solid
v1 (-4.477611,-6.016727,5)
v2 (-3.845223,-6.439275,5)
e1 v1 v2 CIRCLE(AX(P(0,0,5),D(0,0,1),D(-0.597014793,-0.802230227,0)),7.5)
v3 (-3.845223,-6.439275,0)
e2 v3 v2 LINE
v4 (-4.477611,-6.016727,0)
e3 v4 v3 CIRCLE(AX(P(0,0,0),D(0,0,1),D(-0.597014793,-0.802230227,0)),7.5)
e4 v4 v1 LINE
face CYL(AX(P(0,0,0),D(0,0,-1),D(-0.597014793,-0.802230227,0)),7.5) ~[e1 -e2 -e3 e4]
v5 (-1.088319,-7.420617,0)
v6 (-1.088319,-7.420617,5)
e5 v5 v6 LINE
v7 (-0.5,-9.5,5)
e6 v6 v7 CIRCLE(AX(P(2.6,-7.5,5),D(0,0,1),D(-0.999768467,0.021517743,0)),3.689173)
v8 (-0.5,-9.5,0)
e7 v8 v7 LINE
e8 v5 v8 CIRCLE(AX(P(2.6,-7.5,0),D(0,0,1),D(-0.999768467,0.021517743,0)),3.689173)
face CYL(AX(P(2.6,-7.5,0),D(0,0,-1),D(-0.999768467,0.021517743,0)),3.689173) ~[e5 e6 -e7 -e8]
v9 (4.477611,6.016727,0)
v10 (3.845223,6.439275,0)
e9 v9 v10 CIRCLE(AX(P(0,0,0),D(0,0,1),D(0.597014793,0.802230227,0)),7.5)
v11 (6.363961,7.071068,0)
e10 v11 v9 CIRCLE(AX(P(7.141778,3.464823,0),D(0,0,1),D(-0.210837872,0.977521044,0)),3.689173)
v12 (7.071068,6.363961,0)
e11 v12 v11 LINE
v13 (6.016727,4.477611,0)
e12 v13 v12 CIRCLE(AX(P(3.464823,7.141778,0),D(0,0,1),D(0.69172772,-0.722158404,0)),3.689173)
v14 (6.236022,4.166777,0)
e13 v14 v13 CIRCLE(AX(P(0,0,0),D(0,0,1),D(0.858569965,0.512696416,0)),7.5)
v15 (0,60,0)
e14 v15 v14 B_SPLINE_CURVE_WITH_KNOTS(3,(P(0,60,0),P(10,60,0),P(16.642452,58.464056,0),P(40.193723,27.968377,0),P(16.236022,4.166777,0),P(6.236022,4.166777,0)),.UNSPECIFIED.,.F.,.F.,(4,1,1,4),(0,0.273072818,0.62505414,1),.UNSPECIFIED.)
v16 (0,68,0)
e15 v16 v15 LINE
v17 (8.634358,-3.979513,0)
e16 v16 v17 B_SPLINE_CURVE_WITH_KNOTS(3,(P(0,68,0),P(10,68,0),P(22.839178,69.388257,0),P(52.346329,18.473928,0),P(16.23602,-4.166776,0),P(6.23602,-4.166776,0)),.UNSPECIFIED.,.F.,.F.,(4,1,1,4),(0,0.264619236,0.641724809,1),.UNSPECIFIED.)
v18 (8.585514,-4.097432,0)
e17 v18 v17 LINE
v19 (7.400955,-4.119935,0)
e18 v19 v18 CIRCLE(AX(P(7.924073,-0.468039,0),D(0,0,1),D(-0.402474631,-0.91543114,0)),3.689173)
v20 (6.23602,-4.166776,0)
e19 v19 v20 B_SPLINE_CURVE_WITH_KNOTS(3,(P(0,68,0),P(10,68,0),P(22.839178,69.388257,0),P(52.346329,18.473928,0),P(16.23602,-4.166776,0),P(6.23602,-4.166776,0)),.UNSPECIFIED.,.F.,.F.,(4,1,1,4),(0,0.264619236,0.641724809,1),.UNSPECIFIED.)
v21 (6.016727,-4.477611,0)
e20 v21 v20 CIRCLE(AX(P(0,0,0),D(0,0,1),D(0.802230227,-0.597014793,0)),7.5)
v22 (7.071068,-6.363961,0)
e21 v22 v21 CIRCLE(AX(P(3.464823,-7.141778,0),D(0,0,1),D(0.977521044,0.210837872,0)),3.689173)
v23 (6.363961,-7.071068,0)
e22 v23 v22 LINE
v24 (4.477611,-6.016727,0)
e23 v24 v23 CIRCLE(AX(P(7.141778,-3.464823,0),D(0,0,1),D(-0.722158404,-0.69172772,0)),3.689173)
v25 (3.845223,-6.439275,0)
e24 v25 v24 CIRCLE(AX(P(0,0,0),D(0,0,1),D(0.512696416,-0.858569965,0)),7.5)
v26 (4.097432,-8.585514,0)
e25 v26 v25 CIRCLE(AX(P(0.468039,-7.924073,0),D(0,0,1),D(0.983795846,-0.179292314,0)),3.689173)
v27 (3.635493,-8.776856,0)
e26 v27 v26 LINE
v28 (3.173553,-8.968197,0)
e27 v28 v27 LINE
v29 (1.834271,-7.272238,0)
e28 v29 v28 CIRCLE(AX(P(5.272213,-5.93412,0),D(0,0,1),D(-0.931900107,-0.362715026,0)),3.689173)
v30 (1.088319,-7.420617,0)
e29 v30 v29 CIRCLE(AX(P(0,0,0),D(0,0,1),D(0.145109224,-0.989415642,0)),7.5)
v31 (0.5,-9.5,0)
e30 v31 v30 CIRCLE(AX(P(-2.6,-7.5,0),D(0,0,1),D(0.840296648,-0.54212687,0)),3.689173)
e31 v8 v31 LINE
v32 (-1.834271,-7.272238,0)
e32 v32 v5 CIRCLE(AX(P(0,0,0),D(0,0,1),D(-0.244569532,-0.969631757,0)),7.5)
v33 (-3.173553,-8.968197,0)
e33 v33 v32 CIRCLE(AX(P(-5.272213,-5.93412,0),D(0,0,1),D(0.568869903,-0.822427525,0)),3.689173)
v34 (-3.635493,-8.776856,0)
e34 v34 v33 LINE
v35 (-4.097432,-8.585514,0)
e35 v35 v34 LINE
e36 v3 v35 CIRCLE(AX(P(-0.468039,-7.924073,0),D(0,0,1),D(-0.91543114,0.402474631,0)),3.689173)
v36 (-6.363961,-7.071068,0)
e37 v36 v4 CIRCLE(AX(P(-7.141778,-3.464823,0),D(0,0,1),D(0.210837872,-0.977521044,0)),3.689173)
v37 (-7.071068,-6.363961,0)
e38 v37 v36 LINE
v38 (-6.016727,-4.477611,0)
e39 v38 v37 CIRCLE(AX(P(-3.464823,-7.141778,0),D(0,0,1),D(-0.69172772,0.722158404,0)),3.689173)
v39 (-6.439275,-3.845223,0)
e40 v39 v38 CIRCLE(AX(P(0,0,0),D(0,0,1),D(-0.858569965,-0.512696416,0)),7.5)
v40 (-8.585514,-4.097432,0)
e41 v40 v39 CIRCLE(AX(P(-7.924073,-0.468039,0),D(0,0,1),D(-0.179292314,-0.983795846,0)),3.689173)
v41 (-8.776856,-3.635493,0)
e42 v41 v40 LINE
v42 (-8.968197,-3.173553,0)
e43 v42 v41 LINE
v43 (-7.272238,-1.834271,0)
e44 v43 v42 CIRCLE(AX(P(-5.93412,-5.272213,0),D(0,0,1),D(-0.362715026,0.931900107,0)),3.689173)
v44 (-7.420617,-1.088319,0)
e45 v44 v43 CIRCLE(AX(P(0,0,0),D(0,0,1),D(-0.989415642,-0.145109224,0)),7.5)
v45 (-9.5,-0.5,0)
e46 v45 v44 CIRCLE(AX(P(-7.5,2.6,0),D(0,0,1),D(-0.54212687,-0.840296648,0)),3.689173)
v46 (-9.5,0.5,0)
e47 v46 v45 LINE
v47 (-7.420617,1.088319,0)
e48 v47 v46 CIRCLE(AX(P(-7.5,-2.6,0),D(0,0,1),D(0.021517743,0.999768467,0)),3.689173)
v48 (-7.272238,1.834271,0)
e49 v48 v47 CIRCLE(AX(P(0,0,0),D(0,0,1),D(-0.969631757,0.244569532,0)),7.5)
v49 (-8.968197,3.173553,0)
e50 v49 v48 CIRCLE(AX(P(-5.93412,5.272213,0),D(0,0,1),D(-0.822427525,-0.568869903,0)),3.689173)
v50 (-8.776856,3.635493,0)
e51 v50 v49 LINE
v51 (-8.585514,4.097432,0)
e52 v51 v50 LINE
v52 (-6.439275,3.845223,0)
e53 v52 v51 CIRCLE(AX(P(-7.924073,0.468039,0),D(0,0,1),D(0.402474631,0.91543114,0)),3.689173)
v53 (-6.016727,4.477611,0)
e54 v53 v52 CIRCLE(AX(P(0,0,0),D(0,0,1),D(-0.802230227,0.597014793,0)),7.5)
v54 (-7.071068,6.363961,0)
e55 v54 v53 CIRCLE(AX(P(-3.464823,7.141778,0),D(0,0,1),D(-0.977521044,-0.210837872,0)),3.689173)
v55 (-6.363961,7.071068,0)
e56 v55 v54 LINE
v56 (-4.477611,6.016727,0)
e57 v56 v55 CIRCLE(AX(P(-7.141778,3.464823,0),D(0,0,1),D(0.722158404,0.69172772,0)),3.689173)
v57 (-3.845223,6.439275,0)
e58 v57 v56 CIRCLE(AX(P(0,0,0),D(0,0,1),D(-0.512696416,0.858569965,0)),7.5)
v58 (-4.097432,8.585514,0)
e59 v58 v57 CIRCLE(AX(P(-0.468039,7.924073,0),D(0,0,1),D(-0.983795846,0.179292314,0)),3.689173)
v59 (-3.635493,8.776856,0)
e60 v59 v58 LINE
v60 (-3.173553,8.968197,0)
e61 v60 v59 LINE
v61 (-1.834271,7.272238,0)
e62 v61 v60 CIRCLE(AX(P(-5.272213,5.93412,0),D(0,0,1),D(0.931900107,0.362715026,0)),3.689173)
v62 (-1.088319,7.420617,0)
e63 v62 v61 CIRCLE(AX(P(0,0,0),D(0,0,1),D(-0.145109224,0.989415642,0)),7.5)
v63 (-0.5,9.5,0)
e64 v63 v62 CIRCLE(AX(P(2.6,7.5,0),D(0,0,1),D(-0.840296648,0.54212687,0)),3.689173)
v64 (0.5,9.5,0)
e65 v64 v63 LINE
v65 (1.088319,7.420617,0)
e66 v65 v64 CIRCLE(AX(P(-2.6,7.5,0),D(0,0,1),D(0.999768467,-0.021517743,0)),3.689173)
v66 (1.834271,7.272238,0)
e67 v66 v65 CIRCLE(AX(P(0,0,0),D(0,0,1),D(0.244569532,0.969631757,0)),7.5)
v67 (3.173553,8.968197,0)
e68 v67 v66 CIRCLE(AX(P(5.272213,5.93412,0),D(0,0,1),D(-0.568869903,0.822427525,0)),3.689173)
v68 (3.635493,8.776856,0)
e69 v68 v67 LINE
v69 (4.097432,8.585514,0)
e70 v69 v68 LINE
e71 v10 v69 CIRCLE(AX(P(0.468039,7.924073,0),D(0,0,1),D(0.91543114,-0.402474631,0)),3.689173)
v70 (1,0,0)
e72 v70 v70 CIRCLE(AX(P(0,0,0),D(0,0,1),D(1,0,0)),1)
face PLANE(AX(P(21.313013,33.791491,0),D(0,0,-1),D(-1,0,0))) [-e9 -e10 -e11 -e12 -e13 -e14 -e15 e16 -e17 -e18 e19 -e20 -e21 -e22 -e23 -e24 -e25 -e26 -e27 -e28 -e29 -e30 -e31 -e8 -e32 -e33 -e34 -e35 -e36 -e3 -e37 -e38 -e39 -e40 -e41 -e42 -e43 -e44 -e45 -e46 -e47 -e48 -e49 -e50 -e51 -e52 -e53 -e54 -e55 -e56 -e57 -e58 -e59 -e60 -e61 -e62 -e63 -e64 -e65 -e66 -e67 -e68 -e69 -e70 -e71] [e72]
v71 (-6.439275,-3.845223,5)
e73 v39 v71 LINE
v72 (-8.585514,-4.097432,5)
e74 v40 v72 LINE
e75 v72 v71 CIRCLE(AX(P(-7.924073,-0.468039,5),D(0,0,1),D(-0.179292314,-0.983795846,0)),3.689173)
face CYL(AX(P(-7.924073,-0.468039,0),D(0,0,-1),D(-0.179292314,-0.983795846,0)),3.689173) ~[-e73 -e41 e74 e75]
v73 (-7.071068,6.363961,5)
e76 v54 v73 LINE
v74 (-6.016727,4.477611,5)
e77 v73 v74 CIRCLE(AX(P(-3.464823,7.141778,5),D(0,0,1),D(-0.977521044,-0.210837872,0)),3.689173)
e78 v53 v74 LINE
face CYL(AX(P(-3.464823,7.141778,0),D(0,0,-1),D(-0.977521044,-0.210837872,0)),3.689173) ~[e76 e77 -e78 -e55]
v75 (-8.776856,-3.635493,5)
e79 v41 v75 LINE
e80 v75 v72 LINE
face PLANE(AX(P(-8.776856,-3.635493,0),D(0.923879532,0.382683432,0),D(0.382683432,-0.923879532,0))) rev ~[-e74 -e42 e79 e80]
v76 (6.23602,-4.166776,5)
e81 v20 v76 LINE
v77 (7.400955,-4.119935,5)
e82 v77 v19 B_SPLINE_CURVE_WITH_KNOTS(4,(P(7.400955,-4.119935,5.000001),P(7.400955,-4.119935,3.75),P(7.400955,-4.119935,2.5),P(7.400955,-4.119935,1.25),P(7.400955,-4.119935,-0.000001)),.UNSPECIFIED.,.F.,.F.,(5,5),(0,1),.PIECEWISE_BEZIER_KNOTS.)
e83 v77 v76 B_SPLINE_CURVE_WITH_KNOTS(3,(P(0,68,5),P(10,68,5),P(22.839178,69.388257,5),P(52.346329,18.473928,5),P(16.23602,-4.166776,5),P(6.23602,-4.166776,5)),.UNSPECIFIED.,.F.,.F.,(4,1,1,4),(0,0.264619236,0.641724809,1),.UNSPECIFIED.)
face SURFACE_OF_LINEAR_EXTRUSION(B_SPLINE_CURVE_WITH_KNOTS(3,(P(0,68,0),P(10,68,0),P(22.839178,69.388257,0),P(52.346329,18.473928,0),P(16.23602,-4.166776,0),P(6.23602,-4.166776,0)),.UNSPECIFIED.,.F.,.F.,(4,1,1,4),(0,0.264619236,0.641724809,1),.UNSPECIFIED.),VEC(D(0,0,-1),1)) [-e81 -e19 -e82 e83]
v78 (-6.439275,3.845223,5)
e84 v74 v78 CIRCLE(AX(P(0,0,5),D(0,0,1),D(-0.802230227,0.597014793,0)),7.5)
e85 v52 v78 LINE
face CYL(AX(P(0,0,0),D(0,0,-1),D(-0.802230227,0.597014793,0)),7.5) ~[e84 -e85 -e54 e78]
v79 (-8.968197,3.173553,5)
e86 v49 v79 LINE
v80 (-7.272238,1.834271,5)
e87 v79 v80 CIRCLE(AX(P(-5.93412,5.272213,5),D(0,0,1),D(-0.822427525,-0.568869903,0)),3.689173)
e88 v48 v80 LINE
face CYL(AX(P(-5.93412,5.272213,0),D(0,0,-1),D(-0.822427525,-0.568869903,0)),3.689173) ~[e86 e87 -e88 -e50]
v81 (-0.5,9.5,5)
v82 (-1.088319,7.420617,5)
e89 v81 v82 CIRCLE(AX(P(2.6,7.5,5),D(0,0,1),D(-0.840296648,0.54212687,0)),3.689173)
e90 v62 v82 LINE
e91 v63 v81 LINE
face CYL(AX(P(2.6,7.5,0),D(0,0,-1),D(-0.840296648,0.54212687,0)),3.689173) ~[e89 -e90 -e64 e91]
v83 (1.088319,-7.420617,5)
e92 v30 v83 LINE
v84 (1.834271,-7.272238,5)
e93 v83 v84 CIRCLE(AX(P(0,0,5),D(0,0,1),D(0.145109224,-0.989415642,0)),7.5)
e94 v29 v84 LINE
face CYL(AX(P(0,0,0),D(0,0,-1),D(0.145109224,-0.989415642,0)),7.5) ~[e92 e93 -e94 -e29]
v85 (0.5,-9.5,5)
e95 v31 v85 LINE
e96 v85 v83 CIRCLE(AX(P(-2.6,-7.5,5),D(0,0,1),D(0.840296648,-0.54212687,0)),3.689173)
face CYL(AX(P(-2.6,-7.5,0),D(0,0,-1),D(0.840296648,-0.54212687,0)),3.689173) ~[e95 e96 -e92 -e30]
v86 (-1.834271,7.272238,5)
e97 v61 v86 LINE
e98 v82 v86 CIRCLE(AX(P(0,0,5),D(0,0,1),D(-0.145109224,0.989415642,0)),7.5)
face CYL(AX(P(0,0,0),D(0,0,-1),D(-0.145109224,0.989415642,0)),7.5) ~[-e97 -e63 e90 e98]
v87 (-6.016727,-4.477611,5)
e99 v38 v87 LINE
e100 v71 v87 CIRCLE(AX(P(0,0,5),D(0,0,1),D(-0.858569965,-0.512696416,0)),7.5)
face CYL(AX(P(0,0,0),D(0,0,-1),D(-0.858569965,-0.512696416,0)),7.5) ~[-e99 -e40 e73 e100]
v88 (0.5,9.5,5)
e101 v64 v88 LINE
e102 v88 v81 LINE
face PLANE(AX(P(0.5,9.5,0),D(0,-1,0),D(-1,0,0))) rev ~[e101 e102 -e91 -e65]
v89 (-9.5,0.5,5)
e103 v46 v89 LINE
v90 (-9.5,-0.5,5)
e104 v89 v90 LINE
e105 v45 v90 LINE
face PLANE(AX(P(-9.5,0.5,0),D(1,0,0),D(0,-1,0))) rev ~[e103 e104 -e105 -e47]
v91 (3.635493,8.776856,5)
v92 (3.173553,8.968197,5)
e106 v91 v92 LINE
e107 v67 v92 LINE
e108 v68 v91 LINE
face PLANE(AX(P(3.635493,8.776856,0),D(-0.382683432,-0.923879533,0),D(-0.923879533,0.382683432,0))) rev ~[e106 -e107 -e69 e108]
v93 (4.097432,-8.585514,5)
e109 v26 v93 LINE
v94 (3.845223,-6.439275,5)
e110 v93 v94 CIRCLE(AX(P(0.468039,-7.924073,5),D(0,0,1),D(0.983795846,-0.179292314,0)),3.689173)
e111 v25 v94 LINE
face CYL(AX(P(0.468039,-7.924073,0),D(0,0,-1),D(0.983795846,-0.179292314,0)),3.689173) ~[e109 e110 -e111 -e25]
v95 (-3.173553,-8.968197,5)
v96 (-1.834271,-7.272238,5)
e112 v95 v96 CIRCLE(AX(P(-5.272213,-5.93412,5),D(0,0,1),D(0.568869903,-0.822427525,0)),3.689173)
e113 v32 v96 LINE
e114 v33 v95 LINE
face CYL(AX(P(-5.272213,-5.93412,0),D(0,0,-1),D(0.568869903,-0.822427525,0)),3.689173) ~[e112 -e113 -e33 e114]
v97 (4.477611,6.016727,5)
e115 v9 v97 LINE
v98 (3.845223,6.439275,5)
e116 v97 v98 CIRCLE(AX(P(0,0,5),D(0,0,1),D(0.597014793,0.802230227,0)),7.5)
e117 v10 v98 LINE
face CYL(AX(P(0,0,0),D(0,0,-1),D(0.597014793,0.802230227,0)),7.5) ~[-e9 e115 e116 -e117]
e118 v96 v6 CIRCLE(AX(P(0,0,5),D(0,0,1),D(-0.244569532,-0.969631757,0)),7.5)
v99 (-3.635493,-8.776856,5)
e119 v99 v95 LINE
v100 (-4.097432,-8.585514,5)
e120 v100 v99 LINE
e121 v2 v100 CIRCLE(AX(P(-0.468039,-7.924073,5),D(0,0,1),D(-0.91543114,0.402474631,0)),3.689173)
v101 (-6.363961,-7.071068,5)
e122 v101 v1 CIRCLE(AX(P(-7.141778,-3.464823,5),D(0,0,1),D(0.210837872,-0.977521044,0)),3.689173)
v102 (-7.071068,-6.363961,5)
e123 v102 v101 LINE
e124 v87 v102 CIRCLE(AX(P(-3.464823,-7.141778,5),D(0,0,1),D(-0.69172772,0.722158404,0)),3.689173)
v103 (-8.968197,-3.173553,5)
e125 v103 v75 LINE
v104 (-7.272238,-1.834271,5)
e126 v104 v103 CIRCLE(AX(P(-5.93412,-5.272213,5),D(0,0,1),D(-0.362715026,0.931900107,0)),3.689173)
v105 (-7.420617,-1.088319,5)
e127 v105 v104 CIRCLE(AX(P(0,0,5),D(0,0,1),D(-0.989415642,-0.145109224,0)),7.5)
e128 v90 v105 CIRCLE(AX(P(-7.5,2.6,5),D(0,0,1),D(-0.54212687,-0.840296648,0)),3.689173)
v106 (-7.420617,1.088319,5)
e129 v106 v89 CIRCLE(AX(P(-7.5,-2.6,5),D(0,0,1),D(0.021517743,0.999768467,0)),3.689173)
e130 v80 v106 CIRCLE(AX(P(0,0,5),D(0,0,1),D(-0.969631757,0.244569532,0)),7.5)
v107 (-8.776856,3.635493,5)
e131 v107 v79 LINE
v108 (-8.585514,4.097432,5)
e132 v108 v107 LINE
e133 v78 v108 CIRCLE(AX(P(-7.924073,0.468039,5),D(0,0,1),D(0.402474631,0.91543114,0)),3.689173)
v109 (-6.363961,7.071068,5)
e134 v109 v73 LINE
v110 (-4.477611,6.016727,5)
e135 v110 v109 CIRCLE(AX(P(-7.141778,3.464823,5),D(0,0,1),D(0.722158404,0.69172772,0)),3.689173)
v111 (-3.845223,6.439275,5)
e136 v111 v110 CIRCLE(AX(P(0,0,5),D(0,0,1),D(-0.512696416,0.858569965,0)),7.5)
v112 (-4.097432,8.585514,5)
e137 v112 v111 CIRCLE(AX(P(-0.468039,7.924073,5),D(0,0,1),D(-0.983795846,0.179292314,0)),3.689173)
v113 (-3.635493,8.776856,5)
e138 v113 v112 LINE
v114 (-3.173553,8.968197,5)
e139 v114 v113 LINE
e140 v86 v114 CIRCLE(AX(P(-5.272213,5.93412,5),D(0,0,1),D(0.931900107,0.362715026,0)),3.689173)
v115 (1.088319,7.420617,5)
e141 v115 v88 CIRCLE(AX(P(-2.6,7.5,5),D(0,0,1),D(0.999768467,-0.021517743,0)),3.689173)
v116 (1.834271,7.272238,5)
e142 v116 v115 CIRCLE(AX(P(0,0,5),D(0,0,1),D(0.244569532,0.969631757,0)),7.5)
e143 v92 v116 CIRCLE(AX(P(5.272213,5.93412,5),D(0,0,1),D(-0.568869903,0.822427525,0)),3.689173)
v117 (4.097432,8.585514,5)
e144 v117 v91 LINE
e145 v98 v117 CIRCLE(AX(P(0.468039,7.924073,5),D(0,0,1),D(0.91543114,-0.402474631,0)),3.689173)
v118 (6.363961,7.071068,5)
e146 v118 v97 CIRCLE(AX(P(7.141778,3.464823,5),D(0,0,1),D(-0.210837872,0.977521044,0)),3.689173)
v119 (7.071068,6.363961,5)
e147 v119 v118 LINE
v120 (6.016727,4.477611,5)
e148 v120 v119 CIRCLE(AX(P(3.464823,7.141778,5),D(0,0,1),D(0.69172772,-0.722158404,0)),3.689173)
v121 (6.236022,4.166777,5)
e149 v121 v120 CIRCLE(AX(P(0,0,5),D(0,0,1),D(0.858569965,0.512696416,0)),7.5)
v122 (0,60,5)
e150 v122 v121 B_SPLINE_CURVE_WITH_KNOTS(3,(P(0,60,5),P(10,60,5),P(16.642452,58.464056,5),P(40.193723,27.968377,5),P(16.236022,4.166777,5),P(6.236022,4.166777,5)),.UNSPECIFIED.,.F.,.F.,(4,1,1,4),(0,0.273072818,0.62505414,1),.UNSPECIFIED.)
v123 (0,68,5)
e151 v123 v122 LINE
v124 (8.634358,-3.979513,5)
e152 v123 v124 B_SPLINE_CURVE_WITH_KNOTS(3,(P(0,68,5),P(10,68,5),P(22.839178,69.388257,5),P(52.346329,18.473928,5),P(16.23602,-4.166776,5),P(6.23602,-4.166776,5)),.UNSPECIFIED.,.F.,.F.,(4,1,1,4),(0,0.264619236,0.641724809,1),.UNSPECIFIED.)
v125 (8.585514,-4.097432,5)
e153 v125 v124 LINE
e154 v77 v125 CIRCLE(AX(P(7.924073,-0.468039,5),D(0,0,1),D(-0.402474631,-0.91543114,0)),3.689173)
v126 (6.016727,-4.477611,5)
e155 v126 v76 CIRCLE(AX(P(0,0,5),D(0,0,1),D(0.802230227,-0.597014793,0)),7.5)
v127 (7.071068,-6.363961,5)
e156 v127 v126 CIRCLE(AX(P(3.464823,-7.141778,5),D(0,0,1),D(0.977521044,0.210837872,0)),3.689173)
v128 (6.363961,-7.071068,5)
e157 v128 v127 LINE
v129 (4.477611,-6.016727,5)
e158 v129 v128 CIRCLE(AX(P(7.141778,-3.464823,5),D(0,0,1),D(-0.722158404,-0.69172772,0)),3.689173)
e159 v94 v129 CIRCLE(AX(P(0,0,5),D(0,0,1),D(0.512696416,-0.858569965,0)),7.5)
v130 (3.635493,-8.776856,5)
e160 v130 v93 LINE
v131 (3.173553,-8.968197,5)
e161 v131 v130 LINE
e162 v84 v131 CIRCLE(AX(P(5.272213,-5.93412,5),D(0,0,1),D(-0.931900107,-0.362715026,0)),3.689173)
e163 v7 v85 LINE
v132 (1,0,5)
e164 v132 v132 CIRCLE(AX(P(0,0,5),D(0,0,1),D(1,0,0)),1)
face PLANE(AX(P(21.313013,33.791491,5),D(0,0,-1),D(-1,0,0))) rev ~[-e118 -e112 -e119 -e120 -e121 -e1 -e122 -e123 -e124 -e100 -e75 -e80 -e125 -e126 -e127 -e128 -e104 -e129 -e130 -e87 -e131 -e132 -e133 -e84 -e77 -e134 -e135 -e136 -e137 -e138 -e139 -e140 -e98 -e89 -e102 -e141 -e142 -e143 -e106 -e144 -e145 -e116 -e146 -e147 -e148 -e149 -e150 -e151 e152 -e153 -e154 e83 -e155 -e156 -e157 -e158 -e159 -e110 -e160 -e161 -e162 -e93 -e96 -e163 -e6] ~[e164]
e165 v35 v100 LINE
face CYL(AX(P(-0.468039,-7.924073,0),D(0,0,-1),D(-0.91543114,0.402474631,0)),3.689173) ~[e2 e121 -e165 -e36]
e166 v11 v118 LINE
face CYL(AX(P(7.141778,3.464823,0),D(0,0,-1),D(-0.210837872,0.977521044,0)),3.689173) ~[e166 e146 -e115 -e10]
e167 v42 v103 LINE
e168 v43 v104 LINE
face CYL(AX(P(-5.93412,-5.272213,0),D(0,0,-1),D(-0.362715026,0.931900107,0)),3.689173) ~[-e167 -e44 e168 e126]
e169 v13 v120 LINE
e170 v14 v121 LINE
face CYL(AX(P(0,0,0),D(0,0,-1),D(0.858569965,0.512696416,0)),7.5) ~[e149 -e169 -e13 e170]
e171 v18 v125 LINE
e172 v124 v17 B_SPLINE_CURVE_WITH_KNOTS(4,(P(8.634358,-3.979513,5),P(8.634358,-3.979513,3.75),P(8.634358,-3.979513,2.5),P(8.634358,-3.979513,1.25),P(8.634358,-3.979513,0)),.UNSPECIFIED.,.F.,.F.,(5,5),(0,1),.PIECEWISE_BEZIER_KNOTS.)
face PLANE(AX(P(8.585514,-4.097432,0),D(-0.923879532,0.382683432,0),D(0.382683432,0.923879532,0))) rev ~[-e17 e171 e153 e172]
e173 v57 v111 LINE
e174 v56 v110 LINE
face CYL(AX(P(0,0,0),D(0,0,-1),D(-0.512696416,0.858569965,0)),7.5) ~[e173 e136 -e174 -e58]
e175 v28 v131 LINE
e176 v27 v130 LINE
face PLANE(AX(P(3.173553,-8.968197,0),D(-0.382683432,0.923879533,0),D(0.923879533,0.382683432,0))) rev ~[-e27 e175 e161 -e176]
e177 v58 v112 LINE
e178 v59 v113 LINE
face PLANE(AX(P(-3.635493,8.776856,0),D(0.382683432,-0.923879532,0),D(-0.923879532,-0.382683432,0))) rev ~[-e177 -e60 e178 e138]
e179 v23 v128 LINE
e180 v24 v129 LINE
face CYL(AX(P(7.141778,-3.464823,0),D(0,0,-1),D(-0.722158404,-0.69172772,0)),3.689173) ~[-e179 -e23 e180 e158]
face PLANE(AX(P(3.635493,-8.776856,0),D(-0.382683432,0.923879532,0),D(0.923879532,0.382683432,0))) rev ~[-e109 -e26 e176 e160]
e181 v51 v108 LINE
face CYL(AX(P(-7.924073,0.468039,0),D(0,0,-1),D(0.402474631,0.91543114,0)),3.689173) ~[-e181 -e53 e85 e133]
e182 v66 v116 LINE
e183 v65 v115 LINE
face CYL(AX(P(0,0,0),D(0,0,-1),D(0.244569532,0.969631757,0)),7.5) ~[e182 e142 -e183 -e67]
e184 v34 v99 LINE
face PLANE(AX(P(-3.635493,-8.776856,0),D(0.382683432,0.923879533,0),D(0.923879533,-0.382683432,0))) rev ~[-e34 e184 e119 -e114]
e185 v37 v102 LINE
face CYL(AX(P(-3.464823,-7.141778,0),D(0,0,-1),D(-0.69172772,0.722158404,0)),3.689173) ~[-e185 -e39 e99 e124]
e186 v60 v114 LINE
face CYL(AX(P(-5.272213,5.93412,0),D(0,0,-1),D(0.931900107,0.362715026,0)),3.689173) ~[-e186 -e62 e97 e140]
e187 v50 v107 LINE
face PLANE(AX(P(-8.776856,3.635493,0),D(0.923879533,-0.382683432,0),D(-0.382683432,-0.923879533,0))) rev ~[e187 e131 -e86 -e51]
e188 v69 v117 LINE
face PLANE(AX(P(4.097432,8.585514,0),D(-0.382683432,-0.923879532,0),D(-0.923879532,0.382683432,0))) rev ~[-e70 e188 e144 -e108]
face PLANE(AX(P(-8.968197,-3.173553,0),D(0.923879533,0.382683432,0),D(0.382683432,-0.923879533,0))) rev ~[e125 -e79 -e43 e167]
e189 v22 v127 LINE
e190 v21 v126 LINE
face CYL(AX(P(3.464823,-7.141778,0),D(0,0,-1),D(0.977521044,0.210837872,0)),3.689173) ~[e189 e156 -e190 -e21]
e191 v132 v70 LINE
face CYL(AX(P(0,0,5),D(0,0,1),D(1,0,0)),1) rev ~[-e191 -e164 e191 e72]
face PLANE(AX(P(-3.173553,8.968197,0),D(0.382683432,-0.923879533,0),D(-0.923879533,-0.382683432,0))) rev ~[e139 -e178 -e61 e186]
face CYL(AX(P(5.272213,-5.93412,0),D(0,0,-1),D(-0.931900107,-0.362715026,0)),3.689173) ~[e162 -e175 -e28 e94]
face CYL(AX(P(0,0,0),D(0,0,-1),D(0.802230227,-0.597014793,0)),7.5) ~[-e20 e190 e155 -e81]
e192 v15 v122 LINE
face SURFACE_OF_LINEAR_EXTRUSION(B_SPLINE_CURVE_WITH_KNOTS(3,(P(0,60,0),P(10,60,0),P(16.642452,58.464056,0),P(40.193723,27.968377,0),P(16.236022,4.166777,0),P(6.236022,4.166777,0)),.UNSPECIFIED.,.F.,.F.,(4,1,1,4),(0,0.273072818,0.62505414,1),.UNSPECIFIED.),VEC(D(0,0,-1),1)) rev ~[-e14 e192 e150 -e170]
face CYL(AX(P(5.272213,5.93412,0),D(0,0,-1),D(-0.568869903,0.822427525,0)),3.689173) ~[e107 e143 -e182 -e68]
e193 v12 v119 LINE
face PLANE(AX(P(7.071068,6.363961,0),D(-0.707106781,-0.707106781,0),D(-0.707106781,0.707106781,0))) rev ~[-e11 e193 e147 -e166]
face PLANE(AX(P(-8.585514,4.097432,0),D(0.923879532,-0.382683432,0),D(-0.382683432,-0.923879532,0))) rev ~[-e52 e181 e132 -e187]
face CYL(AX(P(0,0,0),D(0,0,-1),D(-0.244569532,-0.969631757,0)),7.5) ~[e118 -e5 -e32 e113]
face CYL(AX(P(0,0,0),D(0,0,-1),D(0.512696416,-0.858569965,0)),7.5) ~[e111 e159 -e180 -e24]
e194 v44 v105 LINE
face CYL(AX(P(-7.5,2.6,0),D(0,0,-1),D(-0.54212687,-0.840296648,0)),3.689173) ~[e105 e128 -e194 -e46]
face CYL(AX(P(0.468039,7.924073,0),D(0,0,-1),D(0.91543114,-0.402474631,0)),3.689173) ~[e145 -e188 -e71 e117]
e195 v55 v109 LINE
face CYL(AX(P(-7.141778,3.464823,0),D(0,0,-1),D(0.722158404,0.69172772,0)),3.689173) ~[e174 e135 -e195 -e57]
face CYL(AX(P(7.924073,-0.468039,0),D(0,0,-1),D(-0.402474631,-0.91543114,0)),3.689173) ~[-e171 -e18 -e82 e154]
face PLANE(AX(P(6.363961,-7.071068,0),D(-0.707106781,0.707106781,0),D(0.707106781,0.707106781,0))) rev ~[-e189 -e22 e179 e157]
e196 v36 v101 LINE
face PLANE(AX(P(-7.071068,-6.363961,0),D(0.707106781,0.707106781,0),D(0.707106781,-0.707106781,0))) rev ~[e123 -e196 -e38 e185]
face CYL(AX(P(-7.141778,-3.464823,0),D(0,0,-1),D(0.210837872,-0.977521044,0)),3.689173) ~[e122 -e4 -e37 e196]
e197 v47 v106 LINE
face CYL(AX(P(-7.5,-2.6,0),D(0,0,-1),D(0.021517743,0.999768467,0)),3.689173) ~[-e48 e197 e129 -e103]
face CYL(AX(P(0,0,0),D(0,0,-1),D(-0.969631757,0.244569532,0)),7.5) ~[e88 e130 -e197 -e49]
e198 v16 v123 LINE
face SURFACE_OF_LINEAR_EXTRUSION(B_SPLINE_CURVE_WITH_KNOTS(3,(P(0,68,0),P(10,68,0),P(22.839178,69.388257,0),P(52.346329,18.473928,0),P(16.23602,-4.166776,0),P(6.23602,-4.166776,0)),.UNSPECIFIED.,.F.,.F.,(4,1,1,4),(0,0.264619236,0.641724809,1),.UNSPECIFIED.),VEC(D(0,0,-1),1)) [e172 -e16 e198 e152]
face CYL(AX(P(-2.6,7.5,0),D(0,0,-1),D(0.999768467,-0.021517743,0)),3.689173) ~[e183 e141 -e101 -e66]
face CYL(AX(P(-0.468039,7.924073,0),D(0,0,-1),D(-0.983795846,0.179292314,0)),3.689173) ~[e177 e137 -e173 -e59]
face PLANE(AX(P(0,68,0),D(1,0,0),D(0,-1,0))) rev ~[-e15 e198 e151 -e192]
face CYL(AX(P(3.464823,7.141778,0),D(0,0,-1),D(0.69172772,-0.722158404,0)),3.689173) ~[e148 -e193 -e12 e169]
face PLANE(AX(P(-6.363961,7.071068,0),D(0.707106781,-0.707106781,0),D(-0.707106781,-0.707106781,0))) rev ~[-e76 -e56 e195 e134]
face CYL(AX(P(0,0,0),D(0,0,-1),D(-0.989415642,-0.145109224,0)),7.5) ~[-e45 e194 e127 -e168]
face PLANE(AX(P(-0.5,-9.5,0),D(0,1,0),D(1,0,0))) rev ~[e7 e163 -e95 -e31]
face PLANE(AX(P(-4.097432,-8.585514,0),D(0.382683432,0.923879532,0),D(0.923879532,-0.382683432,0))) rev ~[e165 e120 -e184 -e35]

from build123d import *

# Parameters (mm, degrees)
F1_DEPTH = 5
F2_R     = 1
F3_DEPTH = 25
F5_DEPTH = 5


with BuildPart() as f1:
    # F0 (on Top) → F1 (new body)
    with BuildSketch(Plane.XY):
        with BuildLine():
            ThreePointArc((7.4206173165, -1.0883191822), (7.4801280027, -0.5456052265), (7.5, 0))
            ThreePointArc((7.5, 0), (7.4801280027, 0.5456052265), (7.4206173165, 1.0883191822))
            ThreePointArc((7.4206173165, 1.0883191822), (7.355889603, 1.4631774151), (7.2722381774, 1.8342714877))
            ThreePointArc((7.2722381774, 1.8342714877), (6.9290964938, 2.8701257427), (6.4392747372, 3.8452231222))
            ThreePointArc((6.4392747372, 3.8452231222), (6.2360220923, 4.1667767476), (6.0167266989, 4.4776109513))
            ThreePointArc((6.0167266989, 4.4776109513), (5.3033008589, 5.3033008589), (4.4776109513, 6.0167266989))
            ThreePointArc((4.4776109513, 6.0167266989), (4.1667767476, 6.2360220923), (3.8452231222, 6.4392747372))
            ThreePointArc((3.8452231222, 6.4392747372), (2.8701257427, 6.9290964938), (1.8342714877, 7.2722381774))
            ThreePointArc((1.8342714877, 7.2722381774), (1.4631774151, 7.355889603), (1.0883191822, 7.4206173165))
            ThreePointArc((1.0883191822, 7.4206173165), (0, 7.5), (-1.0883191822, 7.4206173165))
            ThreePointArc((-1.0883191822, 7.4206173165), (-1.4631774151, 7.355889603), (-1.8342714877, 7.2722381774))
            ThreePointArc((-1.8342714877, 7.2722381774), (-2.8701257427, 6.9290964938), (-3.8452231222, 6.4392747372))
            ThreePointArc((-3.8452231222, 6.4392747372), (-4.1667767476, 6.2360220923), (-4.4776109513, 6.0167266989))
            ThreePointArc((-4.4776109513, 6.0167266989), (-5.3033008589, 5.3033008589), (-6.0167266989, 4.4776109513))
            ThreePointArc((-6.0167266989, 4.4776109513), (-6.2360220923, 4.1667767476), (-6.4392747372, 3.8452231222))
            ThreePointArc((-6.4392747372, 3.8452231222), (-6.9290964938, 2.8701257427), (-7.2722381774, 1.8342714877))
            ThreePointArc((-7.2722381774, 1.8342714877), (-7.355889603, 1.4631774151), (-7.4206173165, 1.0883191822))
            ThreePointArc((-7.4206173165, 1.0883191822), (-7.5, 0), (-7.4206173165, -1.0883191822))
            ThreePointArc((-7.4206173165, -1.0883191822), (-7.355889603, -1.4631774151), (-7.2722381774, -1.8342714877))
            ThreePointArc((-7.2722381774, -1.8342714877), (-6.9290964938, -2.8701257427), (-6.4392747372, -3.8452231222))
            ThreePointArc((-6.4392747372, -3.8452231222), (-6.2360220923, -4.1667767476), (-6.0167266989, -4.4776109513))
            ThreePointArc((-6.0167266989, -4.4776109513), (-5.3033008589, -5.3033008589), (-4.4776109513, -6.0167266989))
            ThreePointArc((-4.4776109513, -6.0167266989), (-4.1667767476, -6.2360220923), (-3.8452231222, -6.4392747372))
            ThreePointArc((-3.8452231222, -6.4392747372), (-2.8701257427, -6.9290964938), (-1.8342714877, -7.2722381774))
            ThreePointArc((-1.8342714877, -7.2722381774), (-1.4631774151, -7.355889603), (-1.0883191822, -7.4206173165))
            ThreePointArc((-1.0883191822, -7.4206173165), (0, -7.5), (1.0883191822, -7.4206173165))
            ThreePointArc((1.0883191822, -7.4206173165), (1.4631774151, -7.355889603), (1.8342714877, -7.2722381774))
            ThreePointArc((1.8342714877, -7.2722381774), (2.8701257427, -6.9290964938), (3.8452231222, -6.4392747372))
            ThreePointArc((3.8452231222, -6.4392747372), (4.1667767476, -6.2360220923), (4.4776109513, -6.0167266989))
            ThreePointArc((4.4776109513, -6.0167266989), (5.3033008589, -5.3033008589), (6.0167266989, -4.4776109513))
            ThreePointArc((6.0167266989, -4.4776109513), (6.2360220923, -4.1667767476), (6.4392747372, -3.8452231222))
            ThreePointArc((6.4392747372, -3.8452231222), (6.9290964938, -2.8701257427), (7.2722381774, -1.8342714877))
            ThreePointArc((7.2722381774, -1.8342714877), (7.355889603, -1.4631774151), (7.4206173165, -1.0883191822))
        make_face()
        with BuildLine():
            ThreePointArc((7.4206173165, 1.0883191822), (7.4801280027, 0.5456052265), (7.5, 0))
            ThreePointArc((7.5, 0), (7.4801280027, -0.5456052265), (7.4206173165, -1.0883191822))
            ThreePointArc((7.4206173165, -1.0883191822), (8.5043518229, -0.9498278009), (9.5, -0.5))
            Line((9.5, -0.5), (9.5, 0))
            Line((9.5, 0), (9.5, 0.5))
            ThreePointArc((9.5, 0.5), (8.5043518229, 0.9498278009), (7.4206173165, 1.0883191822))
        make_face()
        with BuildLine():
            ThreePointArc((6.4392747372, 3.8452231222), (6.9290964938, 2.8701257427), (7.2722381774, 1.8342714877))
            ThreePointArc((7.2722381774, 1.8342714877), (8.2204799494, 2.376948081), (8.968197275, 3.1735528412))
            Line((8.968197275, 3.1735528412), (8.7768555589, 3.6354926075))
            Line((8.7768555589, 3.6354926075), (8.5855138427, 4.0974323737))
            ThreePointArc((8.5855138427, 4.0974323737), (7.4935132234, 4.1320010103), (6.4392747372, 3.8452231222))
        make_face()
        with BuildLine():
            ThreePointArc((8.968197275, -3.1735528412), (8.2204799494, -2.376948081), (7.2722381774, -1.8342714877))
            ThreePointArc((7.2722381774, -1.8342714877), (6.9290964938, -2.8701257427), (6.4392747372, -3.8452231222))
            ThreePointArc((6.4392747372, -3.8452231222), (7.4935132234, -4.1320010103), (8.5855138427, -4.0974323737))
            Line((8.5855138427, -4.0974323737), (8.7768555589, -3.6354926075))
            Line((8.7768555589, -3.6354926075), (8.968197275, -3.1735528412))
        make_face()
        with BuildLine():
            ThreePointArc((4.4776109513, 6.0167266989), (5.3033008589, 5.3033008589), (6.0167266989, 4.4776109513))
            ThreePointArc((6.0167266989, 4.4776109513), (6.6851145225, 5.3418551646), (7.0710678119, 6.3639610307))
            Line((7.0710678119, 6.3639610307), (6.7175144213, 6.7175144213))
            Line((6.7175144213, 6.7175144213), (6.3639610307, 7.0710678119))
            ThreePointArc((6.3639610307, 7.0710678119), (5.3418551646, 6.6851145225), (4.4776109513, 6.0167266989))
        make_face()
        with BuildLine():
            ThreePointArc((7.0710678119, -6.3639610307), (6.6851145225, -5.3418551646), (6.0167266989, -4.4776109513))
            ThreePointArc((6.0167266989, -4.4776109513), (5.3033008589, -5.3033008589), (4.4776109513, -6.0167266989))
            ThreePointArc((4.4776109513, -6.0167266989), (5.3418551646, -6.6851145225), (6.3639610307, -7.0710678119))
            Line((6.3639610307, -7.0710678119), (6.7175144213, -6.7175144213))
            Line((6.7175144213, -6.7175144213), (7.0710678119, -6.3639610307))
        make_face()
        with BuildLine():
            ThreePointArc((1.8342714877, 7.2722381774), (2.8701257427, 6.9290964938), (3.8452231222, 6.4392747372))
            ThreePointArc((3.8452231222, 6.4392747372), (4.1320010103, 7.4935132234), (4.0974323737, 8.5855138427))
            Line((4.0974323737, 8.5855138427), (3.6354926075, 8.7768555589))
            Line((3.6354926075, 8.7768555589), (3.1735528412, 8.968197275))
            ThreePointArc((3.1735528412, 8.968197275), (2.376948081, 8.2204799494), (1.8342714877, 7.2722381774))
        make_face()
        with BuildLine():
            ThreePointArc((4.0974323737, -8.5855138427), (4.1320010103, -7.4935132234), (3.8452231222, -6.4392747372))
            ThreePointArc((3.8452231222, -6.4392747372), (2.8701257427, -6.9290964938), (1.8342714877, -7.2722381774))
            ThreePointArc((1.8342714877, -7.2722381774), (2.376948081, -8.2204799494), (3.1735528412, -8.968197275))
            Line((3.1735528412, -8.968197275), (3.6354926075, -8.7768555589))
            Line((3.6354926075, -8.7768555589), (4.0974323737, -8.5855138427))
        make_face()
        with BuildLine():
            ThreePointArc((-1.0883191822, 7.4206173165), (0, 7.5), (1.0883191822, 7.4206173165))
            ThreePointArc((1.0883191822, 7.4206173165), (0.9498278009, 8.5043518229), (0.5, 9.5))
            Line((0.5, 9.5), (0, 9.5))
            Line((0, 9.5), (-0.5, 9.5))
            ThreePointArc((-0.5, 9.5), (-0.9498278009, 8.5043518229), (-1.0883191822, 7.4206173165))
        make_face()
        with BuildLine():
            ThreePointArc((0.5, -9.5), (0.9498278009, -8.5043518229), (1.0883191822, -7.4206173165))
            ThreePointArc((1.0883191822, -7.4206173165), (0, -7.5), (-1.0883191822, -7.4206173165))
            ThreePointArc((-1.0883191822, -7.4206173165), (-0.9498278009, -8.5043518229), (-0.5, -9.5))
            Line((-0.5, -9.5), (0, -9.5))
            Line((0, -9.5), (0.5, -9.5))
        make_face()
        with BuildLine():
            ThreePointArc((-3.8452231222, 6.4392747372), (-2.8701257427, 6.9290964938), (-1.8342714877, 7.2722381774))
            ThreePointArc((-1.8342714877, 7.2722381774), (-2.376948081, 8.2204799494), (-3.1735528412, 8.968197275))
            Line((-3.1735528412, 8.968197275), (-3.6354926075, 8.7768555589))
            Line((-3.6354926075, 8.7768555589), (-4.0974323737, 8.5855138427))
            ThreePointArc((-4.0974323737, 8.5855138427), (-4.1320010103, 7.4935132234), (-3.8452231222, 6.4392747372))
        make_face()
        with BuildLine():
            ThreePointArc((-3.1735528412, -8.968197275), (-2.376948081, -8.2204799494), (-1.8342714877, -7.2722381774))
            ThreePointArc((-1.8342714877, -7.2722381774), (-2.8701257427, -6.9290964938), (-3.8452231222, -6.4392747372))
            ThreePointArc((-3.8452231222, -6.4392747372), (-4.1320010103, -7.4935132234), (-4.0974323737, -8.5855138427))
            Line((-4.0974323737, -8.5855138427), (-3.6354926075, -8.7768555589))
            Line((-3.6354926075, -8.7768555589), (-3.1735528412, -8.968197275))
        make_face()
        with BuildLine():
            ThreePointArc((-6.0167266989, 4.4776109513), (-5.3033008589, 5.3033008589), (-4.4776109513, 6.0167266989))
            ThreePointArc((-4.4776109513, 6.0167266989), (-5.3418551646, 6.6851145225), (-6.3639610307, 7.0710678119))
            Line((-6.3639610307, 7.0710678119), (-6.7175144213, 6.7175144213))
            Line((-6.7175144213, 6.7175144213), (-7.0710678119, 6.3639610307))
            ThreePointArc((-7.0710678119, 6.3639610307), (-6.6851145225, 5.3418551646), (-6.0167266989, 4.4776109513))
        make_face()
        with BuildLine():
            ThreePointArc((-6.3639610307, -7.0710678119), (-5.3418551646, -6.6851145225), (-4.4776109513, -6.0167266989))
            ThreePointArc((-4.4776109513, -6.0167266989), (-5.3033008589, -5.3033008589), (-6.0167266989, -4.4776109513))
            ThreePointArc((-6.0167266989, -4.4776109513), (-6.6851145225, -5.3418551646), (-7.0710678119, -6.3639610307))
            Line((-7.0710678119, -6.3639610307), (-6.7175144213, -6.7175144213))
            Line((-6.7175144213, -6.7175144213), (-6.3639610307, -7.0710678119))
        make_face()
        with BuildLine():
            ThreePointArc((-7.2722381774, 1.8342714877), (-6.9290964938, 2.8701257427), (-6.4392747372, 3.8452231222))
            ThreePointArc((-6.4392747372, 3.8452231222), (-7.4935132234, 4.1320010103), (-8.5855138427, 4.0974323737))
            Line((-8.5855138427, 4.0974323737), (-8.7768555589, 3.6354926075))
            Line((-8.7768555589, 3.6354926075), (-8.968197275, 3.1735528412))
            ThreePointArc((-8.968197275, 3.1735528412), (-8.2204799494, 2.376948081), (-7.2722381774, 1.8342714877))
        make_face()
        with BuildLine():
            ThreePointArc((-8.5855138427, -4.0974323737), (-7.4935132234, -4.1320010103), (-6.4392747372, -3.8452231222))
            ThreePointArc((-6.4392747372, -3.8452231222), (-6.9290964938, -2.8701257427), (-7.2722381774, -1.8342714877))
            ThreePointArc((-7.2722381774, -1.8342714877), (-8.2204799494, -2.376948081), (-8.968197275, -3.1735528412))
            Line((-8.968197275, -3.1735528412), (-8.7768555589, -3.6354926075))
            Line((-8.7768555589, -3.6354926075), (-8.5855138427, -4.0974323737))
        make_face()
        with BuildLine():
            ThreePointArc((-7.4206173165, -1.0883191822), (-7.5, 0), (-7.4206173165, 1.0883191822))
            ThreePointArc((-7.4206173165, 1.0883191822), (-8.5043518229, 0.9498278009), (-9.5, 0.5))
            Line((-9.5, 0.5), (-9.5, 0))
            Line((-9.5, 0), (-9.5, -0.5))
            ThreePointArc((-9.5, -0.5), (-8.5043518229, -0.9498278009), (-7.4206173165, -1.0883191822))
        make_face()
    extrude(amount=F1_DEPTH)

    # F2 (on face) → F3 (cut)
    with BuildSketch(Plane.XY.offset(5)):
        Circle(F2_R)
    extrude(amount=-F3_DEPTH, mode=Mode.SUBTRACT)

    # F4 (on Top) → F5 (join, through all)
    with BuildSketch(Plane.XY):
        with BuildLine():
            add(Edge.make_bspline(
                [(0, 68), (10, 68), (22.8391780148, 69.3882574213), (52.3463292726, 18.473927858), (16.2360203979, -4.1667756155), (6.2360203979, -4.1667756155)],
                knots=[0, 0, 0, 0, 0.2646192357, 0.6417248094, 1, 1, 1, 1], degree=3))
            Line((0, 68), (0, 60))
            add(Edge.make_bspline(
                [(0, 60), (10, 60), (16.6424524567, 58.4640557697), (40.1937230285, 27.9683773295), (16.2360220923, 4.1667767476), (6.2360220923, 4.1667767476)],
                knots=[0, 0, 0, 0, 0.273072818, 0.6250541396, 1, 1, 1, 1], degree=3))
            Line((6.2360220923, 4.1667767476), (6.2360203979, -4.1667756155))
        make_face()
    extrude(amount=F5_DEPTH)


solid = f1.part
